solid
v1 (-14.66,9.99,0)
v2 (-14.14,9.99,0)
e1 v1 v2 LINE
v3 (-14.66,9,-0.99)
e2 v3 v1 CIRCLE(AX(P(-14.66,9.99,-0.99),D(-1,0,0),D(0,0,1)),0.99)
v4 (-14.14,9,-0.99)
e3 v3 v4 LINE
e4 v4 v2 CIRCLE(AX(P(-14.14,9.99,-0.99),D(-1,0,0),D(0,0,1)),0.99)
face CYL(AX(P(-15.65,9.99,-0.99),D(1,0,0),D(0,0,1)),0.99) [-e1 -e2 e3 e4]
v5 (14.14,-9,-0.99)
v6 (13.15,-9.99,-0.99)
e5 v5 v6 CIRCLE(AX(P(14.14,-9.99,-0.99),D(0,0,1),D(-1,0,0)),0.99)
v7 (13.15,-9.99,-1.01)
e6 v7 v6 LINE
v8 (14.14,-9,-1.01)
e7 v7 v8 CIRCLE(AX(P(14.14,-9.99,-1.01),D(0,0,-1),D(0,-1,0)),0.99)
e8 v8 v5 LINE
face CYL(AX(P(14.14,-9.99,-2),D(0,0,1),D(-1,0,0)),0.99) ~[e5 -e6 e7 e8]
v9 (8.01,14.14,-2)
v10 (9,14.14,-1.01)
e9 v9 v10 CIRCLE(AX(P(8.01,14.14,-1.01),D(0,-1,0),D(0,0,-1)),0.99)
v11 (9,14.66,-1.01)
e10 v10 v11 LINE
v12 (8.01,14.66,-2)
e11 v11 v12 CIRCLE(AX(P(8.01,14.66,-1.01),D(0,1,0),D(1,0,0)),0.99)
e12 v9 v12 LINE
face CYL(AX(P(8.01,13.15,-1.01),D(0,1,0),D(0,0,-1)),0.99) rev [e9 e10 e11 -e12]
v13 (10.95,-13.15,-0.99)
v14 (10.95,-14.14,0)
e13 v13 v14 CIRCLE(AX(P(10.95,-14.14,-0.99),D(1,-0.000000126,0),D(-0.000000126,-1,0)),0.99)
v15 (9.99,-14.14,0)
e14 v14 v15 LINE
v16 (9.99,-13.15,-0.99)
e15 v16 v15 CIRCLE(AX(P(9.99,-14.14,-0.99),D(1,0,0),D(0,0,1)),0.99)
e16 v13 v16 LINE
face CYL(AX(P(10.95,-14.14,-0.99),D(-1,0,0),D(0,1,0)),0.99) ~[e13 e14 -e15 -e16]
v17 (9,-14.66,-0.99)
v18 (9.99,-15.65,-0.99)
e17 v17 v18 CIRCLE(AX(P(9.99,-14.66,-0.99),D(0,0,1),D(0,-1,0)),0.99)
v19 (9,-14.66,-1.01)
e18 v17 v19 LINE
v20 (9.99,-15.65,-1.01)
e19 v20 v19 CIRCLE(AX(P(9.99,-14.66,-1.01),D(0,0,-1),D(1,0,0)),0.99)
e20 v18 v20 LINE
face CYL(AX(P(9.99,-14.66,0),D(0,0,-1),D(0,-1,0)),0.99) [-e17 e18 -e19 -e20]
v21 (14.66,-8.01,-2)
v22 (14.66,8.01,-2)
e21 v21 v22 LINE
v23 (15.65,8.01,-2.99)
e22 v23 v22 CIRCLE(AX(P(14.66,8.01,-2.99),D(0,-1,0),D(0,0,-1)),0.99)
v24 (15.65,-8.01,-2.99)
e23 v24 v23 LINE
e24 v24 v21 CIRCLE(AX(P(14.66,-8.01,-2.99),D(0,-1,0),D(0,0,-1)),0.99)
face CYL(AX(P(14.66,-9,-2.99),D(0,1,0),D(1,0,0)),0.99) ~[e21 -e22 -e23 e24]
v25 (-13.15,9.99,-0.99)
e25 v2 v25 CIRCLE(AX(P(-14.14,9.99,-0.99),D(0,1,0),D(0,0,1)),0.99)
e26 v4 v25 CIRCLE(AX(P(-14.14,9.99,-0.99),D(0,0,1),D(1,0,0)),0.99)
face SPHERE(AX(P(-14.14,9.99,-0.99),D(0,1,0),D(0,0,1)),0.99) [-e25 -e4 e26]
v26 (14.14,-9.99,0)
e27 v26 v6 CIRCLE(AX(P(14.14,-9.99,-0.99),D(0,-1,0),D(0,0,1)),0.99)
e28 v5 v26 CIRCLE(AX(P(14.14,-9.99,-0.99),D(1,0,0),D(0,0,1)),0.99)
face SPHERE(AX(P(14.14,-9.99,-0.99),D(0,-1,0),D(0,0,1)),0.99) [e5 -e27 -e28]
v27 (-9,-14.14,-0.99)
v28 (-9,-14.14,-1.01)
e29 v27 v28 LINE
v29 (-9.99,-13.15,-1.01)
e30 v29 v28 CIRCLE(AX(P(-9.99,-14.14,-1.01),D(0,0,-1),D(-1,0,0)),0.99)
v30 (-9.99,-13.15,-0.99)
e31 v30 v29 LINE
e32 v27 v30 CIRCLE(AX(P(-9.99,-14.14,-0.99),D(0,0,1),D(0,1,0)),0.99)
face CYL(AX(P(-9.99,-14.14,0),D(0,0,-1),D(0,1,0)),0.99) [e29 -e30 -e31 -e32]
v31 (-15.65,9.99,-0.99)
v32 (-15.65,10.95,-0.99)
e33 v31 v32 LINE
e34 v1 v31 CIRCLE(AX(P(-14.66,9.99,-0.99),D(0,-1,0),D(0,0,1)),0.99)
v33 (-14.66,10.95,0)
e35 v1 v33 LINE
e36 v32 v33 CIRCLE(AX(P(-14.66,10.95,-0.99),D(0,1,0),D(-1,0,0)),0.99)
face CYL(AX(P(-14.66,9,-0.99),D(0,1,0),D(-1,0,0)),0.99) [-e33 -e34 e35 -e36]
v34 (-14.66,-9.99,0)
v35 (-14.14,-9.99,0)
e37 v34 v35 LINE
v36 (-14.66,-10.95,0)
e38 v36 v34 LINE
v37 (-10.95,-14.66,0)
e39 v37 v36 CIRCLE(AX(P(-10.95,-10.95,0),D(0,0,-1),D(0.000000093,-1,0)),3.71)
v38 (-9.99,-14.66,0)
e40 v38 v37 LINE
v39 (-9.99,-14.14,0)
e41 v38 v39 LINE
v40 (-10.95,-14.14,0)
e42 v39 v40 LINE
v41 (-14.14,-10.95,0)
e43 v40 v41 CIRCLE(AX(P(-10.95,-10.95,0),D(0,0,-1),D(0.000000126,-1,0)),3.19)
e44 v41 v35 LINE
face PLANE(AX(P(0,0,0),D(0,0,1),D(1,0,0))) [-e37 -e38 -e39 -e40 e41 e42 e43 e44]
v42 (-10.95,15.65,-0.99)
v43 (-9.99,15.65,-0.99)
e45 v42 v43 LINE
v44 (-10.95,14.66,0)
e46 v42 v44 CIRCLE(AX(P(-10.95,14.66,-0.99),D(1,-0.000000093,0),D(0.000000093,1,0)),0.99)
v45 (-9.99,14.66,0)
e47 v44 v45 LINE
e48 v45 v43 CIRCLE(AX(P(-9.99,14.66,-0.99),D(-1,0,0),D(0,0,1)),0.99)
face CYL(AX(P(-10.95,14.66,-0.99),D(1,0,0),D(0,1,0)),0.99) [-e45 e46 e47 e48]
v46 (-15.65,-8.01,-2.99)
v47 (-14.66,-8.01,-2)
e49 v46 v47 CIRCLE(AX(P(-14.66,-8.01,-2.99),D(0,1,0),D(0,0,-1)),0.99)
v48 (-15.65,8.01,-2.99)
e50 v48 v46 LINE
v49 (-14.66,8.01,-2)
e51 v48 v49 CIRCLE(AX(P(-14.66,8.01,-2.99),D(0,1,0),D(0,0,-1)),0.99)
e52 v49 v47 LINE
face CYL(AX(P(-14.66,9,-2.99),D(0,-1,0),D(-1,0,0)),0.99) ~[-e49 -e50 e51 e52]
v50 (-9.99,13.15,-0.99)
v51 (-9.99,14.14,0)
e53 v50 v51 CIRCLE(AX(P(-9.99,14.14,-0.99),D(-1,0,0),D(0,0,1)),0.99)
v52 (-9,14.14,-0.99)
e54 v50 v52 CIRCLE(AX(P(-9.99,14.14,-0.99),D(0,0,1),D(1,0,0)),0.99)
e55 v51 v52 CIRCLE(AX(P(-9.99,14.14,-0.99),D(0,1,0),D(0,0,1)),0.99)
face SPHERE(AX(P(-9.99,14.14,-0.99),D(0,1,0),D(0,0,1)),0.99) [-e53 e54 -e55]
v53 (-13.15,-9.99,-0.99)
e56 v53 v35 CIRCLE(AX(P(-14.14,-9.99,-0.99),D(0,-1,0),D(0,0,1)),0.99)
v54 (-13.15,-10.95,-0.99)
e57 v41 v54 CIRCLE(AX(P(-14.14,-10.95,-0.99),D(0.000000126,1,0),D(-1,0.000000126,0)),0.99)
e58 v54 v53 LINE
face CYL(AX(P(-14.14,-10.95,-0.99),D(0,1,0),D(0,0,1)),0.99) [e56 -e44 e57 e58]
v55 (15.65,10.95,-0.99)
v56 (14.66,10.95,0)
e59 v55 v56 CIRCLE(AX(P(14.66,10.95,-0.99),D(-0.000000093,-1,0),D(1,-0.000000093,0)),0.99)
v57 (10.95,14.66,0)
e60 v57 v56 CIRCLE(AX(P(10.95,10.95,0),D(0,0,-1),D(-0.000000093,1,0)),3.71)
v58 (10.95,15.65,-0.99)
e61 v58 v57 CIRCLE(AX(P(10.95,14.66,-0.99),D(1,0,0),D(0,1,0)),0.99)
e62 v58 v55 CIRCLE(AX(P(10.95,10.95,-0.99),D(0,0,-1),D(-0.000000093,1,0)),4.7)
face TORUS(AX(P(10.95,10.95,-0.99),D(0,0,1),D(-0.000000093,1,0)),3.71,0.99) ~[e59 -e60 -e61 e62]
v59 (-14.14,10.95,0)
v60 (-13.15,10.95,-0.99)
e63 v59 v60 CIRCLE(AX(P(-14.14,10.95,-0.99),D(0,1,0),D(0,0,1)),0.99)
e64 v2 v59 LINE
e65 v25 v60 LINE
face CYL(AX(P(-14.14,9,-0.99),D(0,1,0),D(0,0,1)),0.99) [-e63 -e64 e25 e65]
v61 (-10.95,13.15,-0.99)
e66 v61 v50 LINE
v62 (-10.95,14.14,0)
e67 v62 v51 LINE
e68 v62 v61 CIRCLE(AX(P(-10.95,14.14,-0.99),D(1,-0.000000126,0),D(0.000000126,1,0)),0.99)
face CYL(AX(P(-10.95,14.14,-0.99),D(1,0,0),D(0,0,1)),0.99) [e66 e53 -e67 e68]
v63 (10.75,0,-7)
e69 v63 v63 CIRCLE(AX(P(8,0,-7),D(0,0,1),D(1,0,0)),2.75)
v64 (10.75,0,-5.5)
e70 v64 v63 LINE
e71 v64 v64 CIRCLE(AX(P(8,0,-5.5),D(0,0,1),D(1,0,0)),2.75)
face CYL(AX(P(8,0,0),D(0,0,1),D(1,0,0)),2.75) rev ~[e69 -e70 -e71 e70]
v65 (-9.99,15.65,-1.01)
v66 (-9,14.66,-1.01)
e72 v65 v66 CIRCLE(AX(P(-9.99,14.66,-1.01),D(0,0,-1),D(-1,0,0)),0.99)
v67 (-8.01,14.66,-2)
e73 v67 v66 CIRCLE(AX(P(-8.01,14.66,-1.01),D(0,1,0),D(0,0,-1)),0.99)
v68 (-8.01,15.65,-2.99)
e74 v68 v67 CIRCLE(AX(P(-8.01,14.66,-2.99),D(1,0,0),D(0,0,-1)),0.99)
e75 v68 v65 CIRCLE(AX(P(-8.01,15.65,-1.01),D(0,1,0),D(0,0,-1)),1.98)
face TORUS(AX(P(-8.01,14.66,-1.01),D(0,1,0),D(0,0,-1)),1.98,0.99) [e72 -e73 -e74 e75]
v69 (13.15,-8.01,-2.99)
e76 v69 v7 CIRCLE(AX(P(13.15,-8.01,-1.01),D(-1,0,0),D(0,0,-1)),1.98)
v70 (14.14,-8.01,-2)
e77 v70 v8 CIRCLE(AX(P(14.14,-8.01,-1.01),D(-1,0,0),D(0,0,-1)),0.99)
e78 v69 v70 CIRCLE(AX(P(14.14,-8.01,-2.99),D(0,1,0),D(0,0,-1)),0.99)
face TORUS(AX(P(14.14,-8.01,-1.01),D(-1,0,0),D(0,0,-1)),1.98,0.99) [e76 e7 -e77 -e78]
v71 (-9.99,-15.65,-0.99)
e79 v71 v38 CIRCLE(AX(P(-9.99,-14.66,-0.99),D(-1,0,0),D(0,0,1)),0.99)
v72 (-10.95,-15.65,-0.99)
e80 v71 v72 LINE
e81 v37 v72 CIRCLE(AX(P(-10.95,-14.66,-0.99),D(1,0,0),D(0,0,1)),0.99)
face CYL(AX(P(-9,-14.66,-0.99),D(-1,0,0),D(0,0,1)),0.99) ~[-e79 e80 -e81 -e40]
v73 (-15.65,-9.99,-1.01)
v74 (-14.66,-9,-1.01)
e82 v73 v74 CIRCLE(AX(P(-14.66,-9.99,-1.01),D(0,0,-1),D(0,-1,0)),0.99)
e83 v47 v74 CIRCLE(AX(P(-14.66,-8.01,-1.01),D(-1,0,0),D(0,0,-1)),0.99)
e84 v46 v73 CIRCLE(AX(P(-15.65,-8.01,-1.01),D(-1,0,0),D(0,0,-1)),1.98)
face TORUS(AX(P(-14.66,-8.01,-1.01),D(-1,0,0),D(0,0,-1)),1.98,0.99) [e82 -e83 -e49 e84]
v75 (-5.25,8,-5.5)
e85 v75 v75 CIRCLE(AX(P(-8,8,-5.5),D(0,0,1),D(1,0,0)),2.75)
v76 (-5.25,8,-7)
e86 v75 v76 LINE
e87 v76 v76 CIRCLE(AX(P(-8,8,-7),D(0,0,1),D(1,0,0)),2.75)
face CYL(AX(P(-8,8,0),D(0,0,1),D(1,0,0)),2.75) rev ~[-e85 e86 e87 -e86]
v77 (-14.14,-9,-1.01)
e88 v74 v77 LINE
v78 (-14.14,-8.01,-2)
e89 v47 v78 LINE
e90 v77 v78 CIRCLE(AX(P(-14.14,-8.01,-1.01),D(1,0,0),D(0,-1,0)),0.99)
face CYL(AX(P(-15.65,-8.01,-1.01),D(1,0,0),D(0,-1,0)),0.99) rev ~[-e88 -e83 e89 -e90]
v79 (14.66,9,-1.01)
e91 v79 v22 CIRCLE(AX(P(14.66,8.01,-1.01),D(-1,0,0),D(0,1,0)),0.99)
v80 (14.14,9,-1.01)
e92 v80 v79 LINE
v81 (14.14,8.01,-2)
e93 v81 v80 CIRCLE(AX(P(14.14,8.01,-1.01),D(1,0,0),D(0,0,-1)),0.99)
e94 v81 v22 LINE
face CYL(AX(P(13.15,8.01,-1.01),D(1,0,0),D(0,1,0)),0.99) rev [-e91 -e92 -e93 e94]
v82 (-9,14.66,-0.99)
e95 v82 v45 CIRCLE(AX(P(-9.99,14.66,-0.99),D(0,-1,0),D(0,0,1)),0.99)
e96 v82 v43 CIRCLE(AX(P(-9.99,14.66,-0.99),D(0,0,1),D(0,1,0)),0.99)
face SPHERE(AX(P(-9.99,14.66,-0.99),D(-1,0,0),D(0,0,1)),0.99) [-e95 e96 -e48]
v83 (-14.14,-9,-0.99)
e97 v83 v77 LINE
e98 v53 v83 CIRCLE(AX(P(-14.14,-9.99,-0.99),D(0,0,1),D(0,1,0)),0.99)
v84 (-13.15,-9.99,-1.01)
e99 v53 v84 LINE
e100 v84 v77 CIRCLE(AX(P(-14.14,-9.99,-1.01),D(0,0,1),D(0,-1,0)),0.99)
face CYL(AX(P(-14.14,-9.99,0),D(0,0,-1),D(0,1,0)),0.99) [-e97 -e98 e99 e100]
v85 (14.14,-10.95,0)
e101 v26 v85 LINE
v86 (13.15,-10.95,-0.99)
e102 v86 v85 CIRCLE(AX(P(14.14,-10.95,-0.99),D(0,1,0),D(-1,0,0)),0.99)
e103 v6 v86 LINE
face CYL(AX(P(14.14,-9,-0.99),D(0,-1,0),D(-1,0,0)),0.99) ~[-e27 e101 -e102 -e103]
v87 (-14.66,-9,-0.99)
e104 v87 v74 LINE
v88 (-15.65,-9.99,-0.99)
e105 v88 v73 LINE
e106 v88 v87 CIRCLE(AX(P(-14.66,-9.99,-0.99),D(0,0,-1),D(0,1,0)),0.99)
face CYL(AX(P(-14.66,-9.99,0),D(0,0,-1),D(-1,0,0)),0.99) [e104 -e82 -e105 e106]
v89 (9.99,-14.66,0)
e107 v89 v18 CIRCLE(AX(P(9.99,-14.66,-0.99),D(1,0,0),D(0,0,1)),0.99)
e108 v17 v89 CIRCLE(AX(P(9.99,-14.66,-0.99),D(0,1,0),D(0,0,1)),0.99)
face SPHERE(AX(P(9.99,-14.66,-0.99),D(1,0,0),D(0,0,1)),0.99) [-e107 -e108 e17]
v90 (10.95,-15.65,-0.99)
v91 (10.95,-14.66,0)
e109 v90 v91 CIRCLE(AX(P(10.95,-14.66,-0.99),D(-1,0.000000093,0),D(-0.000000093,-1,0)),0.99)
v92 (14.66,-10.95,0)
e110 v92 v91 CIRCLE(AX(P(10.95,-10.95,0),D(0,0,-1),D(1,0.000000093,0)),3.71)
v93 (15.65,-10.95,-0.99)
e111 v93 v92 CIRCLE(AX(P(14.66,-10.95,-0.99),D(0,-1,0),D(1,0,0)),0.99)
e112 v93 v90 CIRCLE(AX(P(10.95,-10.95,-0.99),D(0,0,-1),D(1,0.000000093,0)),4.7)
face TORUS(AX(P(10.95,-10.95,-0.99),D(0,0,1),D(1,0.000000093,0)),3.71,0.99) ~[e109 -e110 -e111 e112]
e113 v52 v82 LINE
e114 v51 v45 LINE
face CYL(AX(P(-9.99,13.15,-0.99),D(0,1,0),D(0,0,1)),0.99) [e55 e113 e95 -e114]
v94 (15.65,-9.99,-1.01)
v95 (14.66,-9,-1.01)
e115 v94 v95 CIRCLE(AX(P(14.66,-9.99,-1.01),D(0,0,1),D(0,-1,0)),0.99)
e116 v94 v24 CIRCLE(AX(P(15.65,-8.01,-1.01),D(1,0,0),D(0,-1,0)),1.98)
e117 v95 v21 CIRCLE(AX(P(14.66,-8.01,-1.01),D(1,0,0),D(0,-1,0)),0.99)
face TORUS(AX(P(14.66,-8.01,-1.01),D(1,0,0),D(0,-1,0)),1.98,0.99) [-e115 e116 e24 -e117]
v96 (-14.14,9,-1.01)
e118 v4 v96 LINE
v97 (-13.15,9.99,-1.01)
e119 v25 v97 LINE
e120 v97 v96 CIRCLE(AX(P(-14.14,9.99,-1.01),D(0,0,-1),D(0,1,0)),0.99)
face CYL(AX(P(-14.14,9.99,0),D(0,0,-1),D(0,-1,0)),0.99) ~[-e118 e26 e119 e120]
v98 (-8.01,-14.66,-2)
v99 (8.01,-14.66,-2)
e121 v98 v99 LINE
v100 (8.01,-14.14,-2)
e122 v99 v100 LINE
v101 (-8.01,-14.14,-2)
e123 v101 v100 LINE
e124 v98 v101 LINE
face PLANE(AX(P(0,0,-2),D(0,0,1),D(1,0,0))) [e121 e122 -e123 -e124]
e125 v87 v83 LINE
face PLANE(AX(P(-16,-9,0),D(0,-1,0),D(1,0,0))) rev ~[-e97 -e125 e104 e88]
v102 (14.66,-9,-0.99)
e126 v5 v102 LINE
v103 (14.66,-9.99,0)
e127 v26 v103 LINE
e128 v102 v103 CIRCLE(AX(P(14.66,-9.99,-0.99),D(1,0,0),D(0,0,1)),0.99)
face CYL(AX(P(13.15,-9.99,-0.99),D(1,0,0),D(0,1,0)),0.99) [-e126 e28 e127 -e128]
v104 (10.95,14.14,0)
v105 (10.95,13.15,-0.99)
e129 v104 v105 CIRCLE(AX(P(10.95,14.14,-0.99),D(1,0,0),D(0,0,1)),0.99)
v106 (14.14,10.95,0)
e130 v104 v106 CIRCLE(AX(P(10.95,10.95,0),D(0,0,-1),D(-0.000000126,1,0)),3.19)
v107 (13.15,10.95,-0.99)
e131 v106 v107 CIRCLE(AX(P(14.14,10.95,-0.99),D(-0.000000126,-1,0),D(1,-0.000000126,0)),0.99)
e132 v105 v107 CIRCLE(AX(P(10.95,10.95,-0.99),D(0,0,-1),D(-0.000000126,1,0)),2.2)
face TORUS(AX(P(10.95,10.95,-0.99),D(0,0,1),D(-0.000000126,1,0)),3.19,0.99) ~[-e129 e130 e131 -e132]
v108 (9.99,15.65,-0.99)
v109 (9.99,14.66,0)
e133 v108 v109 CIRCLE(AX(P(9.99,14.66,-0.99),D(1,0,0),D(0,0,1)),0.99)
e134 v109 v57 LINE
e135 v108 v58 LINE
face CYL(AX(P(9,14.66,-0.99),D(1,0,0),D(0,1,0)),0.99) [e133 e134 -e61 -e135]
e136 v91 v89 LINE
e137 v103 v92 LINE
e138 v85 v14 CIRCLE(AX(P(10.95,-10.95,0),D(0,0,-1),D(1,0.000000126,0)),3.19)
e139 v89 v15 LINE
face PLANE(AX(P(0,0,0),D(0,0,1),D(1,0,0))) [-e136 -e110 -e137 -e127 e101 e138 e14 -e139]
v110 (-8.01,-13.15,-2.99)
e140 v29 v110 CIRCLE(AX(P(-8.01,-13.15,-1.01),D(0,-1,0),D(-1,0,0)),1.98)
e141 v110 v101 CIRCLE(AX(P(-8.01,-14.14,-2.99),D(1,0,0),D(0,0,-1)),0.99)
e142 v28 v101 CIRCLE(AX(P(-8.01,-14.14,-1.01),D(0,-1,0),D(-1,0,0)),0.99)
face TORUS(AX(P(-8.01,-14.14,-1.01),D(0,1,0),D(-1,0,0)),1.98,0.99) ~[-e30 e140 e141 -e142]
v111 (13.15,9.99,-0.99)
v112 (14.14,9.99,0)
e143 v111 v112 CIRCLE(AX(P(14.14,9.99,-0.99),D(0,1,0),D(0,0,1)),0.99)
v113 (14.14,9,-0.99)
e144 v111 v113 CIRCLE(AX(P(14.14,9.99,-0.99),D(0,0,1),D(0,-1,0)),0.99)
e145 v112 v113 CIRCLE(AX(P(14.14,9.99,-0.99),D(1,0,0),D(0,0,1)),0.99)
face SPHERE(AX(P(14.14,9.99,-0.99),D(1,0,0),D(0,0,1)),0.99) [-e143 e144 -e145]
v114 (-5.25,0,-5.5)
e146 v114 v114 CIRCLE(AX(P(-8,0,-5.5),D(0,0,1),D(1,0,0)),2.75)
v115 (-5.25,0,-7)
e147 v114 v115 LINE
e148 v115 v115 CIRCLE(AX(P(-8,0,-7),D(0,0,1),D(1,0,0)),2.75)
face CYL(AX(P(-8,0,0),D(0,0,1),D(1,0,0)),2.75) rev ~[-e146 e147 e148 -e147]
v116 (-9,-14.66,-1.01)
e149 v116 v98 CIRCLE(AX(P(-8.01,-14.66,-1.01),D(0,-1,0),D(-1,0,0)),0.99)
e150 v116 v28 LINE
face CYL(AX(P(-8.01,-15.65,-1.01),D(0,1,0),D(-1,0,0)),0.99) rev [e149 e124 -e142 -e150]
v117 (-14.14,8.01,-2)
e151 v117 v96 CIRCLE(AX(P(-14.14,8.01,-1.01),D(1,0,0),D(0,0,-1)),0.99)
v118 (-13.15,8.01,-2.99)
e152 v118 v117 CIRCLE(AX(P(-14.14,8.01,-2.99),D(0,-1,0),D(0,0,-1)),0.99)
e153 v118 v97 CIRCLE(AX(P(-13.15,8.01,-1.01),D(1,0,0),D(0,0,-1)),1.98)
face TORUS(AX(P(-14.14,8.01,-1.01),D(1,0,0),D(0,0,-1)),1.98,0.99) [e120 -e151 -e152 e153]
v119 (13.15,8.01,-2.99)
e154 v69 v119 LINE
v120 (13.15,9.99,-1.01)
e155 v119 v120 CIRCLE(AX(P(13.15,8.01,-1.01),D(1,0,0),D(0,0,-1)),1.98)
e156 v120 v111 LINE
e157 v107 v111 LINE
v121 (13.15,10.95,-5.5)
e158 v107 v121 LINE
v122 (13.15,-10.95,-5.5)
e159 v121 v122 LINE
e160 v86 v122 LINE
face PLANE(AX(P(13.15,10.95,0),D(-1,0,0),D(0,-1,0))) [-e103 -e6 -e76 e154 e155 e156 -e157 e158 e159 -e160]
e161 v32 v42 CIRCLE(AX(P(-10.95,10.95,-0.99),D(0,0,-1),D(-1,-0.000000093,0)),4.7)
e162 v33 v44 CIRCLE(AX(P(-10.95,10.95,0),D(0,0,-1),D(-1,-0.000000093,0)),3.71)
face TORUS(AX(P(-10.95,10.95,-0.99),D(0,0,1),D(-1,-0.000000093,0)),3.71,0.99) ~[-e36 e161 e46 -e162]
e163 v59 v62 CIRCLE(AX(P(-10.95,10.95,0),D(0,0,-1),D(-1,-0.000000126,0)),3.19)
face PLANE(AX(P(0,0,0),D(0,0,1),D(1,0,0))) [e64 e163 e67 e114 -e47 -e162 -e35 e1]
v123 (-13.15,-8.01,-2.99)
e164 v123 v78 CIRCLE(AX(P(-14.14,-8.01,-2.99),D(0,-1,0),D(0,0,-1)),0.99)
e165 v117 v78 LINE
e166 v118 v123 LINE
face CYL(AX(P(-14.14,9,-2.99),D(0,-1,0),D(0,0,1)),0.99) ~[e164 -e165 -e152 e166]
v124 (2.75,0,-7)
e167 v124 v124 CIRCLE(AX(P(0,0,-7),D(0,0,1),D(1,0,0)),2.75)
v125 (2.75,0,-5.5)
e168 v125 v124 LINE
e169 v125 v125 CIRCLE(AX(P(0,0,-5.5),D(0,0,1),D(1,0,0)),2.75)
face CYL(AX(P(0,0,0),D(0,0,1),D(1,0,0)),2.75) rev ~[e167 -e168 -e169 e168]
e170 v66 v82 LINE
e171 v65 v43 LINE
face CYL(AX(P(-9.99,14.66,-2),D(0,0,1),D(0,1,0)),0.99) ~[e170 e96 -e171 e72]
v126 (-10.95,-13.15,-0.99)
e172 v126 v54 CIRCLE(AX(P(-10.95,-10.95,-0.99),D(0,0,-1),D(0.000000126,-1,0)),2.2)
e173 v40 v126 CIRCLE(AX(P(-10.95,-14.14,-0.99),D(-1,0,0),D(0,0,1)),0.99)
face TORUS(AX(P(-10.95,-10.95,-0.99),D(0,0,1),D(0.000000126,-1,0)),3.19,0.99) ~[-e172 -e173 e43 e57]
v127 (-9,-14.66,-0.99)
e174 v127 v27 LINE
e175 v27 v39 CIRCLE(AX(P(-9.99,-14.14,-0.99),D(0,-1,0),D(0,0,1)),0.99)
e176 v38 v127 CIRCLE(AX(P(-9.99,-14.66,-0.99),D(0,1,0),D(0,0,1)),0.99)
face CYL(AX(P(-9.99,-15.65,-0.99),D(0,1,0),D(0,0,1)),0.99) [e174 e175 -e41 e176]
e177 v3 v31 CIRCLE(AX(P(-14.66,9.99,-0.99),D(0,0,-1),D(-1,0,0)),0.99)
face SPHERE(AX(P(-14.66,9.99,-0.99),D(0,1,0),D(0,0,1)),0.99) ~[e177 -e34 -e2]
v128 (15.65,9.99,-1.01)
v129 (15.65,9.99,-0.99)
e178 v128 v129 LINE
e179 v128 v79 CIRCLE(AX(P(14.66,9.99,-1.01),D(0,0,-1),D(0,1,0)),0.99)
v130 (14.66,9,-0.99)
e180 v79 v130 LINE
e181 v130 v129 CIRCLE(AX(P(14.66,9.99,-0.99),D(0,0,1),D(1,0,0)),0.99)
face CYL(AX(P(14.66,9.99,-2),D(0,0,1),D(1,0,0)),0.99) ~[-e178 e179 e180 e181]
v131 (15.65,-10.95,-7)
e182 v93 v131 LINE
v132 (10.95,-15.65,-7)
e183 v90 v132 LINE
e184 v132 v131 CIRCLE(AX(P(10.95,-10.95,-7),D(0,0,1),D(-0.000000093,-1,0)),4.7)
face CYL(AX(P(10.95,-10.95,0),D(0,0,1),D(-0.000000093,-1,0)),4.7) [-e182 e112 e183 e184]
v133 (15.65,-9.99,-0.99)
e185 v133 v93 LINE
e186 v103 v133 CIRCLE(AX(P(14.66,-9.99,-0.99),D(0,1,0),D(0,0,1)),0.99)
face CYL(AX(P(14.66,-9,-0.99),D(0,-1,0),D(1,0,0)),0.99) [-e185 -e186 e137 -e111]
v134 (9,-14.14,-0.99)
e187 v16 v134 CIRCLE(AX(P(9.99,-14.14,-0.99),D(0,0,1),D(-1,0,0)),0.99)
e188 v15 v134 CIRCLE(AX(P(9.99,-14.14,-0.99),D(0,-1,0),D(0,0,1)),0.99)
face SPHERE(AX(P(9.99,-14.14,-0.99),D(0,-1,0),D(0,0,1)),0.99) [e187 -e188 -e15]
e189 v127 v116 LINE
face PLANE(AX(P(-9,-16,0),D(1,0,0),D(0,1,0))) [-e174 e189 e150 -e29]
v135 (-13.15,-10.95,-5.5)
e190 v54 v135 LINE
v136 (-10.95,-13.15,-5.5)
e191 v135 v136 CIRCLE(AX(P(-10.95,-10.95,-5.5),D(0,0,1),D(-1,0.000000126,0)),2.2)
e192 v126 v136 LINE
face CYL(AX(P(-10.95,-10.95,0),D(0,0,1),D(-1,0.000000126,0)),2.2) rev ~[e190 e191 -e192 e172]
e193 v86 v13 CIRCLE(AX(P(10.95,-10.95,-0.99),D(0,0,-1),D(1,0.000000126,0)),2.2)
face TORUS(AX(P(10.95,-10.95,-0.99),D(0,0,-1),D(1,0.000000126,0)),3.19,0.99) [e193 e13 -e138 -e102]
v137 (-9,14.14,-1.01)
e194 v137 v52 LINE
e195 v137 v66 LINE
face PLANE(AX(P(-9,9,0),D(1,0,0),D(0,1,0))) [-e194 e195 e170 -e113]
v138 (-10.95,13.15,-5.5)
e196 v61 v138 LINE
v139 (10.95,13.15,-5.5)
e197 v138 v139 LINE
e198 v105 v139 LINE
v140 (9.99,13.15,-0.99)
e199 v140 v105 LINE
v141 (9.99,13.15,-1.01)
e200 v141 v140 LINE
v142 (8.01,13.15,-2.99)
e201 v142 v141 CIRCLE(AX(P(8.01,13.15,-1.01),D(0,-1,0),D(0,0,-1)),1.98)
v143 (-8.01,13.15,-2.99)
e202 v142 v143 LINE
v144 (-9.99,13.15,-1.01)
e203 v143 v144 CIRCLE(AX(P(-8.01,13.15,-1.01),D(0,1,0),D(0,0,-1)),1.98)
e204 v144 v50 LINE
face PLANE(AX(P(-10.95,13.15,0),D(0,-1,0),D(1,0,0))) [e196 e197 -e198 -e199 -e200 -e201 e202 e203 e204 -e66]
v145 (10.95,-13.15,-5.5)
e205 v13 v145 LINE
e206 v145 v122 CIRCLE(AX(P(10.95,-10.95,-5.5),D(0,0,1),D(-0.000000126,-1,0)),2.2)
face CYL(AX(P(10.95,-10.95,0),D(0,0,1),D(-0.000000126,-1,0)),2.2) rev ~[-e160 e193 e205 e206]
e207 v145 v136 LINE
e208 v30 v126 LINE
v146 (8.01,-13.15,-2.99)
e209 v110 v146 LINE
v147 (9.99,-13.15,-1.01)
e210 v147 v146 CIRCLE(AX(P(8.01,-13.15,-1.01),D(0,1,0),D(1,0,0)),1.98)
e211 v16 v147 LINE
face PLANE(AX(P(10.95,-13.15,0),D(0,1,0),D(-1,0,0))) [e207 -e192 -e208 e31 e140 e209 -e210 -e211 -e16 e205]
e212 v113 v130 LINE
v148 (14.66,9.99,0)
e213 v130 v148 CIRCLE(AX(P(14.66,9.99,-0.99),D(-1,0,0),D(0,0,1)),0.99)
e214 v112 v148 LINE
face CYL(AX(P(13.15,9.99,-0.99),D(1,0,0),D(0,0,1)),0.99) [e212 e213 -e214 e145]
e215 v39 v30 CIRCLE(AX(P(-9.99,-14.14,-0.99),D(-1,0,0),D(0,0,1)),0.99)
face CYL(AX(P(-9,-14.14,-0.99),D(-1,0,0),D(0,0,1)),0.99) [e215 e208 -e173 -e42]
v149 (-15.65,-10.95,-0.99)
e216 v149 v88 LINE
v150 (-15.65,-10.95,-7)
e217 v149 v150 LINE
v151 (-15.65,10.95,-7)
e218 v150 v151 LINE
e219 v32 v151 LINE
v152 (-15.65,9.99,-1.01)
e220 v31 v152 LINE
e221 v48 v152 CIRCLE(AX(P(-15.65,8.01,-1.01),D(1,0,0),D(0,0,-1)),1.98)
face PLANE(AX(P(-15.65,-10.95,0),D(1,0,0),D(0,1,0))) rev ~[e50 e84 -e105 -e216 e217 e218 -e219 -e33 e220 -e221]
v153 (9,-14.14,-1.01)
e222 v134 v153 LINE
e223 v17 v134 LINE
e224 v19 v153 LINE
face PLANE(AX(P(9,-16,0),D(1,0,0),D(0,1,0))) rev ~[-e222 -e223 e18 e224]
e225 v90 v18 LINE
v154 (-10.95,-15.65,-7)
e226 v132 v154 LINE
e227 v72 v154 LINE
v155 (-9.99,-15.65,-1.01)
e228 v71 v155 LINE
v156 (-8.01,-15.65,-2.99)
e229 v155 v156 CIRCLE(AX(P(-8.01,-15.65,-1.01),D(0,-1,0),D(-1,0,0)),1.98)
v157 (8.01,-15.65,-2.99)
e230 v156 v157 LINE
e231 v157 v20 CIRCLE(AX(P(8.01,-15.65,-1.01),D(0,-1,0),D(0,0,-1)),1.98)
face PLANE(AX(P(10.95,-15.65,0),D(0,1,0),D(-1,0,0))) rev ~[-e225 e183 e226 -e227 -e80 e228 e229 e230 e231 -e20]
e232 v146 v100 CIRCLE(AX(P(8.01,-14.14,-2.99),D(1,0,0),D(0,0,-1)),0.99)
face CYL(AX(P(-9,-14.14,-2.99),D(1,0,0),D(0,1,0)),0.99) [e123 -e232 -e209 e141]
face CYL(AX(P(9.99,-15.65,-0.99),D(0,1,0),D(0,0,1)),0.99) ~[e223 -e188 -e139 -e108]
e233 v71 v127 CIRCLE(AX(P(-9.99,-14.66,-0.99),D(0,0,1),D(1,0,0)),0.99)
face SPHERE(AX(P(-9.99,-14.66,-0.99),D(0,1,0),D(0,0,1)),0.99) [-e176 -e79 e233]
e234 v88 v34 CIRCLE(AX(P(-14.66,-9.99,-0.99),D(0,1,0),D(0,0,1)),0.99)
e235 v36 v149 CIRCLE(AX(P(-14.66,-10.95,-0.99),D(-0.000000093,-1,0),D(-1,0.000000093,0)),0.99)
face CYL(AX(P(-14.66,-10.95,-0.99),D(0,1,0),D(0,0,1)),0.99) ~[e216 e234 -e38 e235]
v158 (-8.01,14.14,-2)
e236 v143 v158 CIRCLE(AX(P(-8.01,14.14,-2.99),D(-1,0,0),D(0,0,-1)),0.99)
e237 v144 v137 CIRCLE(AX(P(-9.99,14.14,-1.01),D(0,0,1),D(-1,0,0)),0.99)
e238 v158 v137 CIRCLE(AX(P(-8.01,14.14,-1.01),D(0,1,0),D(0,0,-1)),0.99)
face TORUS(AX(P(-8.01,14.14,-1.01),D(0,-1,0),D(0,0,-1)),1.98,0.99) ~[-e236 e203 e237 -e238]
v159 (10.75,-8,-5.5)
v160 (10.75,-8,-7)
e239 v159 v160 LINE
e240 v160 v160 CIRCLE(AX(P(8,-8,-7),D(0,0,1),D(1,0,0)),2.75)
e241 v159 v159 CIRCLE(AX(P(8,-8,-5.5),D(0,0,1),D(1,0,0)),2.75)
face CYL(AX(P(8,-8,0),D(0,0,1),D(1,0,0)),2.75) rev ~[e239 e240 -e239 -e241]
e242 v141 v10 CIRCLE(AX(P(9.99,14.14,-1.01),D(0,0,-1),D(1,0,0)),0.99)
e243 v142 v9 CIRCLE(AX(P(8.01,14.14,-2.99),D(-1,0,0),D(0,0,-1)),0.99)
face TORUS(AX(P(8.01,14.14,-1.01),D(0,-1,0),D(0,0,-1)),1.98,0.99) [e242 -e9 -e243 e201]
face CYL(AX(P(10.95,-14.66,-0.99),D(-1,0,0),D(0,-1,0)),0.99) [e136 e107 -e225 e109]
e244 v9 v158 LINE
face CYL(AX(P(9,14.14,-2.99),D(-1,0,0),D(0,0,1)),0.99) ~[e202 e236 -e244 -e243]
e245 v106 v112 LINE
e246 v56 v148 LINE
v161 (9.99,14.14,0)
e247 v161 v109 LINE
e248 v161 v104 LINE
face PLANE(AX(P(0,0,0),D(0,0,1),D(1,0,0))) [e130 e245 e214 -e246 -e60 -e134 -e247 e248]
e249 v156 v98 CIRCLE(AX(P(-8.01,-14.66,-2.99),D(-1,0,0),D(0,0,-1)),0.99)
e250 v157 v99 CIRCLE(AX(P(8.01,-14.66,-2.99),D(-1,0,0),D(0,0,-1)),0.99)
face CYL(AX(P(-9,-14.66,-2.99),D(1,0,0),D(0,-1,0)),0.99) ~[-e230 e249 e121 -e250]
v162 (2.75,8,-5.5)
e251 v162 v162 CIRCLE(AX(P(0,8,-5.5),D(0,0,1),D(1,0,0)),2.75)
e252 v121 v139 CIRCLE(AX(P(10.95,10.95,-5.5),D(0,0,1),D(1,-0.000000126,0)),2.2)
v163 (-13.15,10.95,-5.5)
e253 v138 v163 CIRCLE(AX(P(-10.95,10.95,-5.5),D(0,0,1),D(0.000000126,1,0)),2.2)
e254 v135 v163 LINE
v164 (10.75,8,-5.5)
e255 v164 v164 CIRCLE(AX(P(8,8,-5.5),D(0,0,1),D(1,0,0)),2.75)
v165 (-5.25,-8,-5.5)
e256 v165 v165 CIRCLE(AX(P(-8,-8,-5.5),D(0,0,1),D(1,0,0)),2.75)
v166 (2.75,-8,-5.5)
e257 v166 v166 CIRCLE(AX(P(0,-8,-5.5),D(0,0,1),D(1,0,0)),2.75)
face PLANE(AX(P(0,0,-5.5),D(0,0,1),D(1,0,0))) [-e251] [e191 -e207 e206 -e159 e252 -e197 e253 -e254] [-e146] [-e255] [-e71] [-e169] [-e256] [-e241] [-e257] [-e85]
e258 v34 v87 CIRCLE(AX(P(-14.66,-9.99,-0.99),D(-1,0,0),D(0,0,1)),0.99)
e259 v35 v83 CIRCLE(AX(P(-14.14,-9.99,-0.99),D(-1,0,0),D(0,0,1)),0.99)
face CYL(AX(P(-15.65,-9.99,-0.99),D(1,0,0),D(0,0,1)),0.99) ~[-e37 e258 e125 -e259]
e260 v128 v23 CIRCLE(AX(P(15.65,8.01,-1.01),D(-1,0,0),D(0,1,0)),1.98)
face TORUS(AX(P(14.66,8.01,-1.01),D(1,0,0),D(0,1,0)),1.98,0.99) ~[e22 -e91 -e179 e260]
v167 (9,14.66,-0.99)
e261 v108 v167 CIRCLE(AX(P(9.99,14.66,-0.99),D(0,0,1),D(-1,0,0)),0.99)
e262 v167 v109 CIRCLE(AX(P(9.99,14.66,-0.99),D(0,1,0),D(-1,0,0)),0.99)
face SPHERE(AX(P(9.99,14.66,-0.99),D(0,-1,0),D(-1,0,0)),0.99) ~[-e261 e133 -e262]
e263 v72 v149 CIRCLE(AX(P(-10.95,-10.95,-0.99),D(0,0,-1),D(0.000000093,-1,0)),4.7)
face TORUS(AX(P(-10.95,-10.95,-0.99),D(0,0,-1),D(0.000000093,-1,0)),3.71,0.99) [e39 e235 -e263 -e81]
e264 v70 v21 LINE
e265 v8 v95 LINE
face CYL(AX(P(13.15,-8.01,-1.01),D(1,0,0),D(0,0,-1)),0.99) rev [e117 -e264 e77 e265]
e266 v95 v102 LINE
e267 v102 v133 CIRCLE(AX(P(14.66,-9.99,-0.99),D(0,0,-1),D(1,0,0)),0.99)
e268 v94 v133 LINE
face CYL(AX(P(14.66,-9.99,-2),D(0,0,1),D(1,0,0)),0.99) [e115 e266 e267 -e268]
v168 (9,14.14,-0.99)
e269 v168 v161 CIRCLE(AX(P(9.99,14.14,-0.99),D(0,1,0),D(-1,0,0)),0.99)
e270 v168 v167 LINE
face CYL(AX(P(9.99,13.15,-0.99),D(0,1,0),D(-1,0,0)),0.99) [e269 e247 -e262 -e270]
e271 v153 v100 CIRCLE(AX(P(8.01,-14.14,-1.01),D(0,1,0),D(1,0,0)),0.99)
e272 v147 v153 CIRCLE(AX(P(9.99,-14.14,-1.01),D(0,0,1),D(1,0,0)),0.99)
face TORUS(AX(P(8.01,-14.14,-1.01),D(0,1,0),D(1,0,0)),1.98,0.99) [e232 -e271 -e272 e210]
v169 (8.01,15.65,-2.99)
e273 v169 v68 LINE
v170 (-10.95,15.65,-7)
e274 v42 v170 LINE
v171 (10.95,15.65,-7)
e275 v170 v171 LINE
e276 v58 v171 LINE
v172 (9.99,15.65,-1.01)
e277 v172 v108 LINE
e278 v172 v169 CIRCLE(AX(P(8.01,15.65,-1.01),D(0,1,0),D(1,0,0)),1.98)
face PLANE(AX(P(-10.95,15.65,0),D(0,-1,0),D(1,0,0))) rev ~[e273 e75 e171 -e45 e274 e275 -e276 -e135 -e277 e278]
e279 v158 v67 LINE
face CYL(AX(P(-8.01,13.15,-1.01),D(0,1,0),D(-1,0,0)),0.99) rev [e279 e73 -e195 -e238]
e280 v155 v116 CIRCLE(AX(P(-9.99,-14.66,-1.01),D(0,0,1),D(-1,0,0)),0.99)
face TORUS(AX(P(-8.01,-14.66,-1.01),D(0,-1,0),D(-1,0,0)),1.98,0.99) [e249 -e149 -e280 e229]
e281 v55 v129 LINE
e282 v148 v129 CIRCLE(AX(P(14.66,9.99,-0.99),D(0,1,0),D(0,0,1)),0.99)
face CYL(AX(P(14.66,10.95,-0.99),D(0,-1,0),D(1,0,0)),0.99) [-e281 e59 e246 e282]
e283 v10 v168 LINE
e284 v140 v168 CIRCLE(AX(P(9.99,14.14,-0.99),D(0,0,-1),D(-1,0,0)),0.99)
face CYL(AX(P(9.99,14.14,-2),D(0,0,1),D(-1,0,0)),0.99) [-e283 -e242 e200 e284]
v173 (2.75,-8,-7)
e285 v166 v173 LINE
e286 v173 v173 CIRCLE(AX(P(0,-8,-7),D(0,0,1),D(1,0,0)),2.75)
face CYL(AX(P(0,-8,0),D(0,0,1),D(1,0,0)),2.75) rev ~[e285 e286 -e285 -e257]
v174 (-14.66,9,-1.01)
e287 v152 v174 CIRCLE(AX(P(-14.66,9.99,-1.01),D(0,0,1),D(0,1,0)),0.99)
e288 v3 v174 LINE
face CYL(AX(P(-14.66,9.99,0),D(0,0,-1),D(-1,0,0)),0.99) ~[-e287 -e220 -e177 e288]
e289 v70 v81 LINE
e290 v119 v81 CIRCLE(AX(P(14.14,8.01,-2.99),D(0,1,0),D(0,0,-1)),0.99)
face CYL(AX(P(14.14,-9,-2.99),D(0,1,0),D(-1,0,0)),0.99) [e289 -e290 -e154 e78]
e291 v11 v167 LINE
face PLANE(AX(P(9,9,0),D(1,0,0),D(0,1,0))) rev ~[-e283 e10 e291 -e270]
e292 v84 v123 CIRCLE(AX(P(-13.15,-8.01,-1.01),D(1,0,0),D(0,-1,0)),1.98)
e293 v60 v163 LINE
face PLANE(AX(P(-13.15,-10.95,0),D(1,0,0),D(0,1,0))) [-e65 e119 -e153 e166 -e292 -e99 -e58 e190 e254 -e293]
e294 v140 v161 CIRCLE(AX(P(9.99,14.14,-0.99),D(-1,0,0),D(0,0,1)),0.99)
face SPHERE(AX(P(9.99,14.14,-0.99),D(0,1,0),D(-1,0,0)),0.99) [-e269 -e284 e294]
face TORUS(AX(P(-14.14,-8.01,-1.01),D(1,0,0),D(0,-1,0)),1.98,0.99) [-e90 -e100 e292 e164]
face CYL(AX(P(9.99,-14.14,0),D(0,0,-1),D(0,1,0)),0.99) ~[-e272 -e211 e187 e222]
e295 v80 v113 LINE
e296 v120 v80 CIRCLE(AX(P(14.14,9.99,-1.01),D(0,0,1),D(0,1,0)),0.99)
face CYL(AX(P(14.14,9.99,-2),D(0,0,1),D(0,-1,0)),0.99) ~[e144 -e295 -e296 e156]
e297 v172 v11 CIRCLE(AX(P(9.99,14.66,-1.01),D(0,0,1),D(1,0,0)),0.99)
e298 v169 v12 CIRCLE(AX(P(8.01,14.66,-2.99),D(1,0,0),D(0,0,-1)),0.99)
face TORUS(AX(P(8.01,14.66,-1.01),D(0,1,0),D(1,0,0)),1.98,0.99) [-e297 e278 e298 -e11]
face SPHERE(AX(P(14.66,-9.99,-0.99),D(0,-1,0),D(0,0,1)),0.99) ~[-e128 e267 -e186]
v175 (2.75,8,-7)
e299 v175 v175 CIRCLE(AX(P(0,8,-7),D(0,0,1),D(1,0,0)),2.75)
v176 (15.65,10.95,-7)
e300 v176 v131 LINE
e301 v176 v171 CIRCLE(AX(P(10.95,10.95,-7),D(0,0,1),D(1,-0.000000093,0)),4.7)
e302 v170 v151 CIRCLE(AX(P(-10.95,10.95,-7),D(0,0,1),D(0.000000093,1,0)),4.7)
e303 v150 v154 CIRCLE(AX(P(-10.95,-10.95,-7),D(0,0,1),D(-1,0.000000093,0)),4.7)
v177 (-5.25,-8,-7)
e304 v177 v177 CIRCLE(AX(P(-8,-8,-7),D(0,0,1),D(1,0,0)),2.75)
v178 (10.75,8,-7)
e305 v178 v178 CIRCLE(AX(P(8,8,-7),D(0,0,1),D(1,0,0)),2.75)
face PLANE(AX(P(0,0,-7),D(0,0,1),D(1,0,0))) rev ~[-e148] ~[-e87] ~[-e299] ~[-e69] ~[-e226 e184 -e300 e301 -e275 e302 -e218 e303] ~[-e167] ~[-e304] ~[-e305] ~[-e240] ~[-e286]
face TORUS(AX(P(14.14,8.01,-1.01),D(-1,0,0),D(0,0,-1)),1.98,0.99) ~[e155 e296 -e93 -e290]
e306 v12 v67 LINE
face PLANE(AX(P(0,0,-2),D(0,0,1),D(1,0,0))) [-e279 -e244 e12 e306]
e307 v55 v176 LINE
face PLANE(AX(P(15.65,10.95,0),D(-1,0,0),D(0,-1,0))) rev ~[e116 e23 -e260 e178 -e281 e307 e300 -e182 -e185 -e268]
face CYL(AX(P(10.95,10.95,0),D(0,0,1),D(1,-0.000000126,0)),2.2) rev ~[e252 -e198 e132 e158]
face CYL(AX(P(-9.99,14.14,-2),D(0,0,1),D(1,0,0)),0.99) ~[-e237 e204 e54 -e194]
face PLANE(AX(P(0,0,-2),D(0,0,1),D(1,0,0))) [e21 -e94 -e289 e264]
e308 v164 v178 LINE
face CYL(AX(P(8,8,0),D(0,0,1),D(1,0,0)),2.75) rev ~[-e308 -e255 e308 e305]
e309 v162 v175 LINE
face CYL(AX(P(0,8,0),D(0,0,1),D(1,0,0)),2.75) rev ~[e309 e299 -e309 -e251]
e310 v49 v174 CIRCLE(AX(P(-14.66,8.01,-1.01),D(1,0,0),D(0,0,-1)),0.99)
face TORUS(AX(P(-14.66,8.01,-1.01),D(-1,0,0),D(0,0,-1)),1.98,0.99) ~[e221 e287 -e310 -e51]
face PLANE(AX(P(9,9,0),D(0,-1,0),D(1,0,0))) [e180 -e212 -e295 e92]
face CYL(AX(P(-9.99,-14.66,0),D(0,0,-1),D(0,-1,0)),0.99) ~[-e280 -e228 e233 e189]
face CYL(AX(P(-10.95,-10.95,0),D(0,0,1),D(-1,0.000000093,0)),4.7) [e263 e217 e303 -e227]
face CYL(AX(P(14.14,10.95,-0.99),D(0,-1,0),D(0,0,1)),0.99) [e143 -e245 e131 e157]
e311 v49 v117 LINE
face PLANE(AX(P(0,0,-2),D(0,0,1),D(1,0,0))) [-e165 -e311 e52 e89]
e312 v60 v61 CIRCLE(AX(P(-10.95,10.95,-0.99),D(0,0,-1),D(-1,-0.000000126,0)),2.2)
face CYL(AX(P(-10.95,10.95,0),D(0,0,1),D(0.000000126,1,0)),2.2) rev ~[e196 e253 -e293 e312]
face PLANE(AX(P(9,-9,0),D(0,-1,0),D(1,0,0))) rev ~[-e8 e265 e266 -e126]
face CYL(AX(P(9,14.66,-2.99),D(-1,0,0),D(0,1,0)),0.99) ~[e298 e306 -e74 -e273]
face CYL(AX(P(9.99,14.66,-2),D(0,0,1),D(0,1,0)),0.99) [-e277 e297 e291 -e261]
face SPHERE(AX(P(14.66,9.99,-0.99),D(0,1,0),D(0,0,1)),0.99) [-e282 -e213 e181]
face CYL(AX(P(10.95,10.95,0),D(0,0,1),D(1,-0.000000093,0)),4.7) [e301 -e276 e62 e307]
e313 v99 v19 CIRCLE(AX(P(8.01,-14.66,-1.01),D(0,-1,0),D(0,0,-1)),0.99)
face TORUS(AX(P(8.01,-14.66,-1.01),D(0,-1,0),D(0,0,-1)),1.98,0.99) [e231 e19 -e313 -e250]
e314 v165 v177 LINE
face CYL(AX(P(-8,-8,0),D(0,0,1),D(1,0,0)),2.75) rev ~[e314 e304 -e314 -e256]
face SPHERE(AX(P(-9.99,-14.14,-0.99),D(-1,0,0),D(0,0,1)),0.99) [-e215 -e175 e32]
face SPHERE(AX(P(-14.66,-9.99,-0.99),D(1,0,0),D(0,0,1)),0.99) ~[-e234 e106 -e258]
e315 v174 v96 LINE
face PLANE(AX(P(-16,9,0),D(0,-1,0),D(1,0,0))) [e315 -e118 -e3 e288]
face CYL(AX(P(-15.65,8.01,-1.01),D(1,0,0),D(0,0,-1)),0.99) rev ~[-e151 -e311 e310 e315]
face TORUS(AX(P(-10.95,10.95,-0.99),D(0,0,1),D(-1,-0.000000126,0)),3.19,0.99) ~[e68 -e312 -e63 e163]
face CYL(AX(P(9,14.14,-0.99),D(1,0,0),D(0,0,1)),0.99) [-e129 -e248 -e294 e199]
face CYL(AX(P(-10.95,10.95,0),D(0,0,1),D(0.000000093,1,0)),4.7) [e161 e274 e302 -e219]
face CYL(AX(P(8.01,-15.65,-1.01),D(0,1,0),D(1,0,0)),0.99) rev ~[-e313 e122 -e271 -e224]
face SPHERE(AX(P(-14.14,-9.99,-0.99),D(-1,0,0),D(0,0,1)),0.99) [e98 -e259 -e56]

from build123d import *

# Parameters (mm, degrees)
PAD_DEPTH       = 7
SKETCH002_R     = 2.75
POCKET_DEPTH    = 8
POCKET001_DEPTH = 5.5
SKETCH003_W     = 18
SKETCH003_H     = 32
SKETCH003_W_2   = 32
SKETCH003_H_2   = 18
POCKET002_DEPTH = 2
FILLET_R        = 0.99


with BuildPart() as part:
    # Sketch001 → Pad (new body)
    with BuildSketch(Plane.XY):
        with BuildLine():
            ThreePointArc((-10.95, 15.65), (-14.273402, 14.273402), (-15.65, 10.95))
            Line((-15.65, -10.95), (-15.65, 10.95))
            ThreePointArc((-15.65, -10.95), (-14.273402, -14.273402), (-10.95, -15.65))
            Line((10.95, -15.65), (-10.95, -15.65))
            ThreePointArc((10.95, -15.65), (14.273402, -14.273402), (15.65, -10.95))
            Line((15.65, 10.95), (15.65, -10.95))
            ThreePointArc((15.65, 10.95), (14.273402, 14.273402), (10.95, 15.65))
            Line((-10.95, 15.65), (10.95, 15.65))
        make_face()
    extrude(amount=-PAD_DEPTH)

    # Sketch002 → Pocket (cut)
    with BuildSketch(Plane.XY):
        Circle(SKETCH002_R)
        with Locations((0, 8)):
            Circle(SKETCH002_R)
        with Locations((8, 8)):
            Circle(SKETCH002_R)
        with Locations((-8, 8)):
            Circle(SKETCH002_R)
        with Locations((-8, 0)):
            Circle(SKETCH002_R)
        with Locations((8, 0)):
            Circle(SKETCH002_R)
        with Locations((8, -8)):
            Circle(SKETCH002_R)
        with Locations((0, -8)):
            Circle(SKETCH002_R)
        with Locations((-8, -8)):
            Circle(SKETCH002_R)
    extrude(amount=-POCKET_DEPTH, mode=Mode.SUBTRACT)

    # Sketch → Pocket001 (cut)
    with BuildSketch(Plane.XY):
        with BuildLine():
            ThreePointArc((-10.95, 13.15), (-12.505635, 12.505635), (-13.15, 10.95))
            Line((-13.15, -10.95), (-13.15, 10.95))
            ThreePointArc((-13.15, -10.95), (-12.505635, -12.505635), (-10.95, -13.15))
            Line((10.95, -13.15), (-10.95, -13.15))
            ThreePointArc((10.95, -13.15), (12.505635, -12.505635), (13.15, -10.95))
            Line((13.15, 10.95), (13.15, -10.95))
            ThreePointArc((13.15, 10.95), (12.505635, 12.505635), (10.95, 13.15))
            Line((-10.95, 13.15), (10.95, 13.15))
        make_face()
    extrude(amount=-POCKET001_DEPTH, mode=Mode.SUBTRACT)

    # Sketch003 (on Face4 of Pocket001) → Pocket002 (cut)
    with BuildSketch(Plane.XY):
        Rectangle(SKETCH003_W, SKETCH003_H)
        Rectangle(SKETCH003_W_2, SKETCH003_H_2)
    extrude(amount=-POCKET002_DEPTH, mode=Mode.SUBTRACT)

    # Fillet
    fillet_edges = [part.edges().sort_by_distance(p)[0] for p in [
        (-9.975, 15.65, 0),
        (-9, 14.4, 0),
        (-9.975, 13.15, 0),
        (-12.505635, 12.505635, 0),
        (-13.15, 9.975, 0),
        (-14.4, 9, 0),
        (-15.65, 9.975, 0),
        (-14.273402, 14.273402, 0),
        (-9, 14.4, -2),
        (0, 15.65, -2),
        (9, 14.4, -2),
        (0, 13.15, -2),
        (9, 14.4, 0),
        (9, 13.15, -1),
        (9, 15.65, -1),
        (9.975, 15.65, 0),
        (14.273402, 14.273402, 0),
        (15.65, 9.975, 0),
        (14.4, 9, 0),
        (13.15, 9.975, 0),
        (12.505635, 12.505635, 0),
        (9.975, 13.15, 0),
        (13.15, 9, -1),
        (14.4, 9, -2),
        (15.65, 9, -1),
        (15.65, 0, -2),
        (14.4, -9, -2),
        (13.15, 0, -2),
        (15.65, -9.975, 0),
        (14.273402, -14.273402, 0),
        (9.975, -15.65, 0),
        (9, -14.4, 0),
        (9.975, -13.15, 0),
        (12.505635, -12.505635, 0),
        (13.15, -9.975, 0),
        (14.4, -9, 0),
        (9, -15.65, -1),
        (9, -14.4, -2),
        (9, -13.15, -1),
        (0, -13.15, -2),
        (0, -15.65, -2),
        (-9, -14.4, -2),
        (-14.4, -9, 0),
        (-13.15, -9.975, 0),
        (-12.505635, -12.505635, 0),
        (-9.975, -13.15, 0),
        (-9, -14.4, 0),
        (-9.975, -15.65, 0),
        (-14.273402, -14.273402, 0),
        (-15.65, -9.975, 0),
        (-14.4, 9, -2),
        (-13.15, 0, -2),
        (-14.4, -9, -2),
        (-15.65, 0, -2),
        (-15.65, 9, -1),
        (-13.15, 9, -1),
        (-9, 15.65, -1),
        (-9, 13.15, -1),
        (-9, -13.15, -1),
        (-9, -15.65, -1),
        (15.65, -9, -1),
        (13.15, -9, -1),
        (-13.15, -9, -1),
        (-15.65, -9, -1),
    ]]
    fillet(fillet_edges, radius=FILLET_R)


solid = part.part
